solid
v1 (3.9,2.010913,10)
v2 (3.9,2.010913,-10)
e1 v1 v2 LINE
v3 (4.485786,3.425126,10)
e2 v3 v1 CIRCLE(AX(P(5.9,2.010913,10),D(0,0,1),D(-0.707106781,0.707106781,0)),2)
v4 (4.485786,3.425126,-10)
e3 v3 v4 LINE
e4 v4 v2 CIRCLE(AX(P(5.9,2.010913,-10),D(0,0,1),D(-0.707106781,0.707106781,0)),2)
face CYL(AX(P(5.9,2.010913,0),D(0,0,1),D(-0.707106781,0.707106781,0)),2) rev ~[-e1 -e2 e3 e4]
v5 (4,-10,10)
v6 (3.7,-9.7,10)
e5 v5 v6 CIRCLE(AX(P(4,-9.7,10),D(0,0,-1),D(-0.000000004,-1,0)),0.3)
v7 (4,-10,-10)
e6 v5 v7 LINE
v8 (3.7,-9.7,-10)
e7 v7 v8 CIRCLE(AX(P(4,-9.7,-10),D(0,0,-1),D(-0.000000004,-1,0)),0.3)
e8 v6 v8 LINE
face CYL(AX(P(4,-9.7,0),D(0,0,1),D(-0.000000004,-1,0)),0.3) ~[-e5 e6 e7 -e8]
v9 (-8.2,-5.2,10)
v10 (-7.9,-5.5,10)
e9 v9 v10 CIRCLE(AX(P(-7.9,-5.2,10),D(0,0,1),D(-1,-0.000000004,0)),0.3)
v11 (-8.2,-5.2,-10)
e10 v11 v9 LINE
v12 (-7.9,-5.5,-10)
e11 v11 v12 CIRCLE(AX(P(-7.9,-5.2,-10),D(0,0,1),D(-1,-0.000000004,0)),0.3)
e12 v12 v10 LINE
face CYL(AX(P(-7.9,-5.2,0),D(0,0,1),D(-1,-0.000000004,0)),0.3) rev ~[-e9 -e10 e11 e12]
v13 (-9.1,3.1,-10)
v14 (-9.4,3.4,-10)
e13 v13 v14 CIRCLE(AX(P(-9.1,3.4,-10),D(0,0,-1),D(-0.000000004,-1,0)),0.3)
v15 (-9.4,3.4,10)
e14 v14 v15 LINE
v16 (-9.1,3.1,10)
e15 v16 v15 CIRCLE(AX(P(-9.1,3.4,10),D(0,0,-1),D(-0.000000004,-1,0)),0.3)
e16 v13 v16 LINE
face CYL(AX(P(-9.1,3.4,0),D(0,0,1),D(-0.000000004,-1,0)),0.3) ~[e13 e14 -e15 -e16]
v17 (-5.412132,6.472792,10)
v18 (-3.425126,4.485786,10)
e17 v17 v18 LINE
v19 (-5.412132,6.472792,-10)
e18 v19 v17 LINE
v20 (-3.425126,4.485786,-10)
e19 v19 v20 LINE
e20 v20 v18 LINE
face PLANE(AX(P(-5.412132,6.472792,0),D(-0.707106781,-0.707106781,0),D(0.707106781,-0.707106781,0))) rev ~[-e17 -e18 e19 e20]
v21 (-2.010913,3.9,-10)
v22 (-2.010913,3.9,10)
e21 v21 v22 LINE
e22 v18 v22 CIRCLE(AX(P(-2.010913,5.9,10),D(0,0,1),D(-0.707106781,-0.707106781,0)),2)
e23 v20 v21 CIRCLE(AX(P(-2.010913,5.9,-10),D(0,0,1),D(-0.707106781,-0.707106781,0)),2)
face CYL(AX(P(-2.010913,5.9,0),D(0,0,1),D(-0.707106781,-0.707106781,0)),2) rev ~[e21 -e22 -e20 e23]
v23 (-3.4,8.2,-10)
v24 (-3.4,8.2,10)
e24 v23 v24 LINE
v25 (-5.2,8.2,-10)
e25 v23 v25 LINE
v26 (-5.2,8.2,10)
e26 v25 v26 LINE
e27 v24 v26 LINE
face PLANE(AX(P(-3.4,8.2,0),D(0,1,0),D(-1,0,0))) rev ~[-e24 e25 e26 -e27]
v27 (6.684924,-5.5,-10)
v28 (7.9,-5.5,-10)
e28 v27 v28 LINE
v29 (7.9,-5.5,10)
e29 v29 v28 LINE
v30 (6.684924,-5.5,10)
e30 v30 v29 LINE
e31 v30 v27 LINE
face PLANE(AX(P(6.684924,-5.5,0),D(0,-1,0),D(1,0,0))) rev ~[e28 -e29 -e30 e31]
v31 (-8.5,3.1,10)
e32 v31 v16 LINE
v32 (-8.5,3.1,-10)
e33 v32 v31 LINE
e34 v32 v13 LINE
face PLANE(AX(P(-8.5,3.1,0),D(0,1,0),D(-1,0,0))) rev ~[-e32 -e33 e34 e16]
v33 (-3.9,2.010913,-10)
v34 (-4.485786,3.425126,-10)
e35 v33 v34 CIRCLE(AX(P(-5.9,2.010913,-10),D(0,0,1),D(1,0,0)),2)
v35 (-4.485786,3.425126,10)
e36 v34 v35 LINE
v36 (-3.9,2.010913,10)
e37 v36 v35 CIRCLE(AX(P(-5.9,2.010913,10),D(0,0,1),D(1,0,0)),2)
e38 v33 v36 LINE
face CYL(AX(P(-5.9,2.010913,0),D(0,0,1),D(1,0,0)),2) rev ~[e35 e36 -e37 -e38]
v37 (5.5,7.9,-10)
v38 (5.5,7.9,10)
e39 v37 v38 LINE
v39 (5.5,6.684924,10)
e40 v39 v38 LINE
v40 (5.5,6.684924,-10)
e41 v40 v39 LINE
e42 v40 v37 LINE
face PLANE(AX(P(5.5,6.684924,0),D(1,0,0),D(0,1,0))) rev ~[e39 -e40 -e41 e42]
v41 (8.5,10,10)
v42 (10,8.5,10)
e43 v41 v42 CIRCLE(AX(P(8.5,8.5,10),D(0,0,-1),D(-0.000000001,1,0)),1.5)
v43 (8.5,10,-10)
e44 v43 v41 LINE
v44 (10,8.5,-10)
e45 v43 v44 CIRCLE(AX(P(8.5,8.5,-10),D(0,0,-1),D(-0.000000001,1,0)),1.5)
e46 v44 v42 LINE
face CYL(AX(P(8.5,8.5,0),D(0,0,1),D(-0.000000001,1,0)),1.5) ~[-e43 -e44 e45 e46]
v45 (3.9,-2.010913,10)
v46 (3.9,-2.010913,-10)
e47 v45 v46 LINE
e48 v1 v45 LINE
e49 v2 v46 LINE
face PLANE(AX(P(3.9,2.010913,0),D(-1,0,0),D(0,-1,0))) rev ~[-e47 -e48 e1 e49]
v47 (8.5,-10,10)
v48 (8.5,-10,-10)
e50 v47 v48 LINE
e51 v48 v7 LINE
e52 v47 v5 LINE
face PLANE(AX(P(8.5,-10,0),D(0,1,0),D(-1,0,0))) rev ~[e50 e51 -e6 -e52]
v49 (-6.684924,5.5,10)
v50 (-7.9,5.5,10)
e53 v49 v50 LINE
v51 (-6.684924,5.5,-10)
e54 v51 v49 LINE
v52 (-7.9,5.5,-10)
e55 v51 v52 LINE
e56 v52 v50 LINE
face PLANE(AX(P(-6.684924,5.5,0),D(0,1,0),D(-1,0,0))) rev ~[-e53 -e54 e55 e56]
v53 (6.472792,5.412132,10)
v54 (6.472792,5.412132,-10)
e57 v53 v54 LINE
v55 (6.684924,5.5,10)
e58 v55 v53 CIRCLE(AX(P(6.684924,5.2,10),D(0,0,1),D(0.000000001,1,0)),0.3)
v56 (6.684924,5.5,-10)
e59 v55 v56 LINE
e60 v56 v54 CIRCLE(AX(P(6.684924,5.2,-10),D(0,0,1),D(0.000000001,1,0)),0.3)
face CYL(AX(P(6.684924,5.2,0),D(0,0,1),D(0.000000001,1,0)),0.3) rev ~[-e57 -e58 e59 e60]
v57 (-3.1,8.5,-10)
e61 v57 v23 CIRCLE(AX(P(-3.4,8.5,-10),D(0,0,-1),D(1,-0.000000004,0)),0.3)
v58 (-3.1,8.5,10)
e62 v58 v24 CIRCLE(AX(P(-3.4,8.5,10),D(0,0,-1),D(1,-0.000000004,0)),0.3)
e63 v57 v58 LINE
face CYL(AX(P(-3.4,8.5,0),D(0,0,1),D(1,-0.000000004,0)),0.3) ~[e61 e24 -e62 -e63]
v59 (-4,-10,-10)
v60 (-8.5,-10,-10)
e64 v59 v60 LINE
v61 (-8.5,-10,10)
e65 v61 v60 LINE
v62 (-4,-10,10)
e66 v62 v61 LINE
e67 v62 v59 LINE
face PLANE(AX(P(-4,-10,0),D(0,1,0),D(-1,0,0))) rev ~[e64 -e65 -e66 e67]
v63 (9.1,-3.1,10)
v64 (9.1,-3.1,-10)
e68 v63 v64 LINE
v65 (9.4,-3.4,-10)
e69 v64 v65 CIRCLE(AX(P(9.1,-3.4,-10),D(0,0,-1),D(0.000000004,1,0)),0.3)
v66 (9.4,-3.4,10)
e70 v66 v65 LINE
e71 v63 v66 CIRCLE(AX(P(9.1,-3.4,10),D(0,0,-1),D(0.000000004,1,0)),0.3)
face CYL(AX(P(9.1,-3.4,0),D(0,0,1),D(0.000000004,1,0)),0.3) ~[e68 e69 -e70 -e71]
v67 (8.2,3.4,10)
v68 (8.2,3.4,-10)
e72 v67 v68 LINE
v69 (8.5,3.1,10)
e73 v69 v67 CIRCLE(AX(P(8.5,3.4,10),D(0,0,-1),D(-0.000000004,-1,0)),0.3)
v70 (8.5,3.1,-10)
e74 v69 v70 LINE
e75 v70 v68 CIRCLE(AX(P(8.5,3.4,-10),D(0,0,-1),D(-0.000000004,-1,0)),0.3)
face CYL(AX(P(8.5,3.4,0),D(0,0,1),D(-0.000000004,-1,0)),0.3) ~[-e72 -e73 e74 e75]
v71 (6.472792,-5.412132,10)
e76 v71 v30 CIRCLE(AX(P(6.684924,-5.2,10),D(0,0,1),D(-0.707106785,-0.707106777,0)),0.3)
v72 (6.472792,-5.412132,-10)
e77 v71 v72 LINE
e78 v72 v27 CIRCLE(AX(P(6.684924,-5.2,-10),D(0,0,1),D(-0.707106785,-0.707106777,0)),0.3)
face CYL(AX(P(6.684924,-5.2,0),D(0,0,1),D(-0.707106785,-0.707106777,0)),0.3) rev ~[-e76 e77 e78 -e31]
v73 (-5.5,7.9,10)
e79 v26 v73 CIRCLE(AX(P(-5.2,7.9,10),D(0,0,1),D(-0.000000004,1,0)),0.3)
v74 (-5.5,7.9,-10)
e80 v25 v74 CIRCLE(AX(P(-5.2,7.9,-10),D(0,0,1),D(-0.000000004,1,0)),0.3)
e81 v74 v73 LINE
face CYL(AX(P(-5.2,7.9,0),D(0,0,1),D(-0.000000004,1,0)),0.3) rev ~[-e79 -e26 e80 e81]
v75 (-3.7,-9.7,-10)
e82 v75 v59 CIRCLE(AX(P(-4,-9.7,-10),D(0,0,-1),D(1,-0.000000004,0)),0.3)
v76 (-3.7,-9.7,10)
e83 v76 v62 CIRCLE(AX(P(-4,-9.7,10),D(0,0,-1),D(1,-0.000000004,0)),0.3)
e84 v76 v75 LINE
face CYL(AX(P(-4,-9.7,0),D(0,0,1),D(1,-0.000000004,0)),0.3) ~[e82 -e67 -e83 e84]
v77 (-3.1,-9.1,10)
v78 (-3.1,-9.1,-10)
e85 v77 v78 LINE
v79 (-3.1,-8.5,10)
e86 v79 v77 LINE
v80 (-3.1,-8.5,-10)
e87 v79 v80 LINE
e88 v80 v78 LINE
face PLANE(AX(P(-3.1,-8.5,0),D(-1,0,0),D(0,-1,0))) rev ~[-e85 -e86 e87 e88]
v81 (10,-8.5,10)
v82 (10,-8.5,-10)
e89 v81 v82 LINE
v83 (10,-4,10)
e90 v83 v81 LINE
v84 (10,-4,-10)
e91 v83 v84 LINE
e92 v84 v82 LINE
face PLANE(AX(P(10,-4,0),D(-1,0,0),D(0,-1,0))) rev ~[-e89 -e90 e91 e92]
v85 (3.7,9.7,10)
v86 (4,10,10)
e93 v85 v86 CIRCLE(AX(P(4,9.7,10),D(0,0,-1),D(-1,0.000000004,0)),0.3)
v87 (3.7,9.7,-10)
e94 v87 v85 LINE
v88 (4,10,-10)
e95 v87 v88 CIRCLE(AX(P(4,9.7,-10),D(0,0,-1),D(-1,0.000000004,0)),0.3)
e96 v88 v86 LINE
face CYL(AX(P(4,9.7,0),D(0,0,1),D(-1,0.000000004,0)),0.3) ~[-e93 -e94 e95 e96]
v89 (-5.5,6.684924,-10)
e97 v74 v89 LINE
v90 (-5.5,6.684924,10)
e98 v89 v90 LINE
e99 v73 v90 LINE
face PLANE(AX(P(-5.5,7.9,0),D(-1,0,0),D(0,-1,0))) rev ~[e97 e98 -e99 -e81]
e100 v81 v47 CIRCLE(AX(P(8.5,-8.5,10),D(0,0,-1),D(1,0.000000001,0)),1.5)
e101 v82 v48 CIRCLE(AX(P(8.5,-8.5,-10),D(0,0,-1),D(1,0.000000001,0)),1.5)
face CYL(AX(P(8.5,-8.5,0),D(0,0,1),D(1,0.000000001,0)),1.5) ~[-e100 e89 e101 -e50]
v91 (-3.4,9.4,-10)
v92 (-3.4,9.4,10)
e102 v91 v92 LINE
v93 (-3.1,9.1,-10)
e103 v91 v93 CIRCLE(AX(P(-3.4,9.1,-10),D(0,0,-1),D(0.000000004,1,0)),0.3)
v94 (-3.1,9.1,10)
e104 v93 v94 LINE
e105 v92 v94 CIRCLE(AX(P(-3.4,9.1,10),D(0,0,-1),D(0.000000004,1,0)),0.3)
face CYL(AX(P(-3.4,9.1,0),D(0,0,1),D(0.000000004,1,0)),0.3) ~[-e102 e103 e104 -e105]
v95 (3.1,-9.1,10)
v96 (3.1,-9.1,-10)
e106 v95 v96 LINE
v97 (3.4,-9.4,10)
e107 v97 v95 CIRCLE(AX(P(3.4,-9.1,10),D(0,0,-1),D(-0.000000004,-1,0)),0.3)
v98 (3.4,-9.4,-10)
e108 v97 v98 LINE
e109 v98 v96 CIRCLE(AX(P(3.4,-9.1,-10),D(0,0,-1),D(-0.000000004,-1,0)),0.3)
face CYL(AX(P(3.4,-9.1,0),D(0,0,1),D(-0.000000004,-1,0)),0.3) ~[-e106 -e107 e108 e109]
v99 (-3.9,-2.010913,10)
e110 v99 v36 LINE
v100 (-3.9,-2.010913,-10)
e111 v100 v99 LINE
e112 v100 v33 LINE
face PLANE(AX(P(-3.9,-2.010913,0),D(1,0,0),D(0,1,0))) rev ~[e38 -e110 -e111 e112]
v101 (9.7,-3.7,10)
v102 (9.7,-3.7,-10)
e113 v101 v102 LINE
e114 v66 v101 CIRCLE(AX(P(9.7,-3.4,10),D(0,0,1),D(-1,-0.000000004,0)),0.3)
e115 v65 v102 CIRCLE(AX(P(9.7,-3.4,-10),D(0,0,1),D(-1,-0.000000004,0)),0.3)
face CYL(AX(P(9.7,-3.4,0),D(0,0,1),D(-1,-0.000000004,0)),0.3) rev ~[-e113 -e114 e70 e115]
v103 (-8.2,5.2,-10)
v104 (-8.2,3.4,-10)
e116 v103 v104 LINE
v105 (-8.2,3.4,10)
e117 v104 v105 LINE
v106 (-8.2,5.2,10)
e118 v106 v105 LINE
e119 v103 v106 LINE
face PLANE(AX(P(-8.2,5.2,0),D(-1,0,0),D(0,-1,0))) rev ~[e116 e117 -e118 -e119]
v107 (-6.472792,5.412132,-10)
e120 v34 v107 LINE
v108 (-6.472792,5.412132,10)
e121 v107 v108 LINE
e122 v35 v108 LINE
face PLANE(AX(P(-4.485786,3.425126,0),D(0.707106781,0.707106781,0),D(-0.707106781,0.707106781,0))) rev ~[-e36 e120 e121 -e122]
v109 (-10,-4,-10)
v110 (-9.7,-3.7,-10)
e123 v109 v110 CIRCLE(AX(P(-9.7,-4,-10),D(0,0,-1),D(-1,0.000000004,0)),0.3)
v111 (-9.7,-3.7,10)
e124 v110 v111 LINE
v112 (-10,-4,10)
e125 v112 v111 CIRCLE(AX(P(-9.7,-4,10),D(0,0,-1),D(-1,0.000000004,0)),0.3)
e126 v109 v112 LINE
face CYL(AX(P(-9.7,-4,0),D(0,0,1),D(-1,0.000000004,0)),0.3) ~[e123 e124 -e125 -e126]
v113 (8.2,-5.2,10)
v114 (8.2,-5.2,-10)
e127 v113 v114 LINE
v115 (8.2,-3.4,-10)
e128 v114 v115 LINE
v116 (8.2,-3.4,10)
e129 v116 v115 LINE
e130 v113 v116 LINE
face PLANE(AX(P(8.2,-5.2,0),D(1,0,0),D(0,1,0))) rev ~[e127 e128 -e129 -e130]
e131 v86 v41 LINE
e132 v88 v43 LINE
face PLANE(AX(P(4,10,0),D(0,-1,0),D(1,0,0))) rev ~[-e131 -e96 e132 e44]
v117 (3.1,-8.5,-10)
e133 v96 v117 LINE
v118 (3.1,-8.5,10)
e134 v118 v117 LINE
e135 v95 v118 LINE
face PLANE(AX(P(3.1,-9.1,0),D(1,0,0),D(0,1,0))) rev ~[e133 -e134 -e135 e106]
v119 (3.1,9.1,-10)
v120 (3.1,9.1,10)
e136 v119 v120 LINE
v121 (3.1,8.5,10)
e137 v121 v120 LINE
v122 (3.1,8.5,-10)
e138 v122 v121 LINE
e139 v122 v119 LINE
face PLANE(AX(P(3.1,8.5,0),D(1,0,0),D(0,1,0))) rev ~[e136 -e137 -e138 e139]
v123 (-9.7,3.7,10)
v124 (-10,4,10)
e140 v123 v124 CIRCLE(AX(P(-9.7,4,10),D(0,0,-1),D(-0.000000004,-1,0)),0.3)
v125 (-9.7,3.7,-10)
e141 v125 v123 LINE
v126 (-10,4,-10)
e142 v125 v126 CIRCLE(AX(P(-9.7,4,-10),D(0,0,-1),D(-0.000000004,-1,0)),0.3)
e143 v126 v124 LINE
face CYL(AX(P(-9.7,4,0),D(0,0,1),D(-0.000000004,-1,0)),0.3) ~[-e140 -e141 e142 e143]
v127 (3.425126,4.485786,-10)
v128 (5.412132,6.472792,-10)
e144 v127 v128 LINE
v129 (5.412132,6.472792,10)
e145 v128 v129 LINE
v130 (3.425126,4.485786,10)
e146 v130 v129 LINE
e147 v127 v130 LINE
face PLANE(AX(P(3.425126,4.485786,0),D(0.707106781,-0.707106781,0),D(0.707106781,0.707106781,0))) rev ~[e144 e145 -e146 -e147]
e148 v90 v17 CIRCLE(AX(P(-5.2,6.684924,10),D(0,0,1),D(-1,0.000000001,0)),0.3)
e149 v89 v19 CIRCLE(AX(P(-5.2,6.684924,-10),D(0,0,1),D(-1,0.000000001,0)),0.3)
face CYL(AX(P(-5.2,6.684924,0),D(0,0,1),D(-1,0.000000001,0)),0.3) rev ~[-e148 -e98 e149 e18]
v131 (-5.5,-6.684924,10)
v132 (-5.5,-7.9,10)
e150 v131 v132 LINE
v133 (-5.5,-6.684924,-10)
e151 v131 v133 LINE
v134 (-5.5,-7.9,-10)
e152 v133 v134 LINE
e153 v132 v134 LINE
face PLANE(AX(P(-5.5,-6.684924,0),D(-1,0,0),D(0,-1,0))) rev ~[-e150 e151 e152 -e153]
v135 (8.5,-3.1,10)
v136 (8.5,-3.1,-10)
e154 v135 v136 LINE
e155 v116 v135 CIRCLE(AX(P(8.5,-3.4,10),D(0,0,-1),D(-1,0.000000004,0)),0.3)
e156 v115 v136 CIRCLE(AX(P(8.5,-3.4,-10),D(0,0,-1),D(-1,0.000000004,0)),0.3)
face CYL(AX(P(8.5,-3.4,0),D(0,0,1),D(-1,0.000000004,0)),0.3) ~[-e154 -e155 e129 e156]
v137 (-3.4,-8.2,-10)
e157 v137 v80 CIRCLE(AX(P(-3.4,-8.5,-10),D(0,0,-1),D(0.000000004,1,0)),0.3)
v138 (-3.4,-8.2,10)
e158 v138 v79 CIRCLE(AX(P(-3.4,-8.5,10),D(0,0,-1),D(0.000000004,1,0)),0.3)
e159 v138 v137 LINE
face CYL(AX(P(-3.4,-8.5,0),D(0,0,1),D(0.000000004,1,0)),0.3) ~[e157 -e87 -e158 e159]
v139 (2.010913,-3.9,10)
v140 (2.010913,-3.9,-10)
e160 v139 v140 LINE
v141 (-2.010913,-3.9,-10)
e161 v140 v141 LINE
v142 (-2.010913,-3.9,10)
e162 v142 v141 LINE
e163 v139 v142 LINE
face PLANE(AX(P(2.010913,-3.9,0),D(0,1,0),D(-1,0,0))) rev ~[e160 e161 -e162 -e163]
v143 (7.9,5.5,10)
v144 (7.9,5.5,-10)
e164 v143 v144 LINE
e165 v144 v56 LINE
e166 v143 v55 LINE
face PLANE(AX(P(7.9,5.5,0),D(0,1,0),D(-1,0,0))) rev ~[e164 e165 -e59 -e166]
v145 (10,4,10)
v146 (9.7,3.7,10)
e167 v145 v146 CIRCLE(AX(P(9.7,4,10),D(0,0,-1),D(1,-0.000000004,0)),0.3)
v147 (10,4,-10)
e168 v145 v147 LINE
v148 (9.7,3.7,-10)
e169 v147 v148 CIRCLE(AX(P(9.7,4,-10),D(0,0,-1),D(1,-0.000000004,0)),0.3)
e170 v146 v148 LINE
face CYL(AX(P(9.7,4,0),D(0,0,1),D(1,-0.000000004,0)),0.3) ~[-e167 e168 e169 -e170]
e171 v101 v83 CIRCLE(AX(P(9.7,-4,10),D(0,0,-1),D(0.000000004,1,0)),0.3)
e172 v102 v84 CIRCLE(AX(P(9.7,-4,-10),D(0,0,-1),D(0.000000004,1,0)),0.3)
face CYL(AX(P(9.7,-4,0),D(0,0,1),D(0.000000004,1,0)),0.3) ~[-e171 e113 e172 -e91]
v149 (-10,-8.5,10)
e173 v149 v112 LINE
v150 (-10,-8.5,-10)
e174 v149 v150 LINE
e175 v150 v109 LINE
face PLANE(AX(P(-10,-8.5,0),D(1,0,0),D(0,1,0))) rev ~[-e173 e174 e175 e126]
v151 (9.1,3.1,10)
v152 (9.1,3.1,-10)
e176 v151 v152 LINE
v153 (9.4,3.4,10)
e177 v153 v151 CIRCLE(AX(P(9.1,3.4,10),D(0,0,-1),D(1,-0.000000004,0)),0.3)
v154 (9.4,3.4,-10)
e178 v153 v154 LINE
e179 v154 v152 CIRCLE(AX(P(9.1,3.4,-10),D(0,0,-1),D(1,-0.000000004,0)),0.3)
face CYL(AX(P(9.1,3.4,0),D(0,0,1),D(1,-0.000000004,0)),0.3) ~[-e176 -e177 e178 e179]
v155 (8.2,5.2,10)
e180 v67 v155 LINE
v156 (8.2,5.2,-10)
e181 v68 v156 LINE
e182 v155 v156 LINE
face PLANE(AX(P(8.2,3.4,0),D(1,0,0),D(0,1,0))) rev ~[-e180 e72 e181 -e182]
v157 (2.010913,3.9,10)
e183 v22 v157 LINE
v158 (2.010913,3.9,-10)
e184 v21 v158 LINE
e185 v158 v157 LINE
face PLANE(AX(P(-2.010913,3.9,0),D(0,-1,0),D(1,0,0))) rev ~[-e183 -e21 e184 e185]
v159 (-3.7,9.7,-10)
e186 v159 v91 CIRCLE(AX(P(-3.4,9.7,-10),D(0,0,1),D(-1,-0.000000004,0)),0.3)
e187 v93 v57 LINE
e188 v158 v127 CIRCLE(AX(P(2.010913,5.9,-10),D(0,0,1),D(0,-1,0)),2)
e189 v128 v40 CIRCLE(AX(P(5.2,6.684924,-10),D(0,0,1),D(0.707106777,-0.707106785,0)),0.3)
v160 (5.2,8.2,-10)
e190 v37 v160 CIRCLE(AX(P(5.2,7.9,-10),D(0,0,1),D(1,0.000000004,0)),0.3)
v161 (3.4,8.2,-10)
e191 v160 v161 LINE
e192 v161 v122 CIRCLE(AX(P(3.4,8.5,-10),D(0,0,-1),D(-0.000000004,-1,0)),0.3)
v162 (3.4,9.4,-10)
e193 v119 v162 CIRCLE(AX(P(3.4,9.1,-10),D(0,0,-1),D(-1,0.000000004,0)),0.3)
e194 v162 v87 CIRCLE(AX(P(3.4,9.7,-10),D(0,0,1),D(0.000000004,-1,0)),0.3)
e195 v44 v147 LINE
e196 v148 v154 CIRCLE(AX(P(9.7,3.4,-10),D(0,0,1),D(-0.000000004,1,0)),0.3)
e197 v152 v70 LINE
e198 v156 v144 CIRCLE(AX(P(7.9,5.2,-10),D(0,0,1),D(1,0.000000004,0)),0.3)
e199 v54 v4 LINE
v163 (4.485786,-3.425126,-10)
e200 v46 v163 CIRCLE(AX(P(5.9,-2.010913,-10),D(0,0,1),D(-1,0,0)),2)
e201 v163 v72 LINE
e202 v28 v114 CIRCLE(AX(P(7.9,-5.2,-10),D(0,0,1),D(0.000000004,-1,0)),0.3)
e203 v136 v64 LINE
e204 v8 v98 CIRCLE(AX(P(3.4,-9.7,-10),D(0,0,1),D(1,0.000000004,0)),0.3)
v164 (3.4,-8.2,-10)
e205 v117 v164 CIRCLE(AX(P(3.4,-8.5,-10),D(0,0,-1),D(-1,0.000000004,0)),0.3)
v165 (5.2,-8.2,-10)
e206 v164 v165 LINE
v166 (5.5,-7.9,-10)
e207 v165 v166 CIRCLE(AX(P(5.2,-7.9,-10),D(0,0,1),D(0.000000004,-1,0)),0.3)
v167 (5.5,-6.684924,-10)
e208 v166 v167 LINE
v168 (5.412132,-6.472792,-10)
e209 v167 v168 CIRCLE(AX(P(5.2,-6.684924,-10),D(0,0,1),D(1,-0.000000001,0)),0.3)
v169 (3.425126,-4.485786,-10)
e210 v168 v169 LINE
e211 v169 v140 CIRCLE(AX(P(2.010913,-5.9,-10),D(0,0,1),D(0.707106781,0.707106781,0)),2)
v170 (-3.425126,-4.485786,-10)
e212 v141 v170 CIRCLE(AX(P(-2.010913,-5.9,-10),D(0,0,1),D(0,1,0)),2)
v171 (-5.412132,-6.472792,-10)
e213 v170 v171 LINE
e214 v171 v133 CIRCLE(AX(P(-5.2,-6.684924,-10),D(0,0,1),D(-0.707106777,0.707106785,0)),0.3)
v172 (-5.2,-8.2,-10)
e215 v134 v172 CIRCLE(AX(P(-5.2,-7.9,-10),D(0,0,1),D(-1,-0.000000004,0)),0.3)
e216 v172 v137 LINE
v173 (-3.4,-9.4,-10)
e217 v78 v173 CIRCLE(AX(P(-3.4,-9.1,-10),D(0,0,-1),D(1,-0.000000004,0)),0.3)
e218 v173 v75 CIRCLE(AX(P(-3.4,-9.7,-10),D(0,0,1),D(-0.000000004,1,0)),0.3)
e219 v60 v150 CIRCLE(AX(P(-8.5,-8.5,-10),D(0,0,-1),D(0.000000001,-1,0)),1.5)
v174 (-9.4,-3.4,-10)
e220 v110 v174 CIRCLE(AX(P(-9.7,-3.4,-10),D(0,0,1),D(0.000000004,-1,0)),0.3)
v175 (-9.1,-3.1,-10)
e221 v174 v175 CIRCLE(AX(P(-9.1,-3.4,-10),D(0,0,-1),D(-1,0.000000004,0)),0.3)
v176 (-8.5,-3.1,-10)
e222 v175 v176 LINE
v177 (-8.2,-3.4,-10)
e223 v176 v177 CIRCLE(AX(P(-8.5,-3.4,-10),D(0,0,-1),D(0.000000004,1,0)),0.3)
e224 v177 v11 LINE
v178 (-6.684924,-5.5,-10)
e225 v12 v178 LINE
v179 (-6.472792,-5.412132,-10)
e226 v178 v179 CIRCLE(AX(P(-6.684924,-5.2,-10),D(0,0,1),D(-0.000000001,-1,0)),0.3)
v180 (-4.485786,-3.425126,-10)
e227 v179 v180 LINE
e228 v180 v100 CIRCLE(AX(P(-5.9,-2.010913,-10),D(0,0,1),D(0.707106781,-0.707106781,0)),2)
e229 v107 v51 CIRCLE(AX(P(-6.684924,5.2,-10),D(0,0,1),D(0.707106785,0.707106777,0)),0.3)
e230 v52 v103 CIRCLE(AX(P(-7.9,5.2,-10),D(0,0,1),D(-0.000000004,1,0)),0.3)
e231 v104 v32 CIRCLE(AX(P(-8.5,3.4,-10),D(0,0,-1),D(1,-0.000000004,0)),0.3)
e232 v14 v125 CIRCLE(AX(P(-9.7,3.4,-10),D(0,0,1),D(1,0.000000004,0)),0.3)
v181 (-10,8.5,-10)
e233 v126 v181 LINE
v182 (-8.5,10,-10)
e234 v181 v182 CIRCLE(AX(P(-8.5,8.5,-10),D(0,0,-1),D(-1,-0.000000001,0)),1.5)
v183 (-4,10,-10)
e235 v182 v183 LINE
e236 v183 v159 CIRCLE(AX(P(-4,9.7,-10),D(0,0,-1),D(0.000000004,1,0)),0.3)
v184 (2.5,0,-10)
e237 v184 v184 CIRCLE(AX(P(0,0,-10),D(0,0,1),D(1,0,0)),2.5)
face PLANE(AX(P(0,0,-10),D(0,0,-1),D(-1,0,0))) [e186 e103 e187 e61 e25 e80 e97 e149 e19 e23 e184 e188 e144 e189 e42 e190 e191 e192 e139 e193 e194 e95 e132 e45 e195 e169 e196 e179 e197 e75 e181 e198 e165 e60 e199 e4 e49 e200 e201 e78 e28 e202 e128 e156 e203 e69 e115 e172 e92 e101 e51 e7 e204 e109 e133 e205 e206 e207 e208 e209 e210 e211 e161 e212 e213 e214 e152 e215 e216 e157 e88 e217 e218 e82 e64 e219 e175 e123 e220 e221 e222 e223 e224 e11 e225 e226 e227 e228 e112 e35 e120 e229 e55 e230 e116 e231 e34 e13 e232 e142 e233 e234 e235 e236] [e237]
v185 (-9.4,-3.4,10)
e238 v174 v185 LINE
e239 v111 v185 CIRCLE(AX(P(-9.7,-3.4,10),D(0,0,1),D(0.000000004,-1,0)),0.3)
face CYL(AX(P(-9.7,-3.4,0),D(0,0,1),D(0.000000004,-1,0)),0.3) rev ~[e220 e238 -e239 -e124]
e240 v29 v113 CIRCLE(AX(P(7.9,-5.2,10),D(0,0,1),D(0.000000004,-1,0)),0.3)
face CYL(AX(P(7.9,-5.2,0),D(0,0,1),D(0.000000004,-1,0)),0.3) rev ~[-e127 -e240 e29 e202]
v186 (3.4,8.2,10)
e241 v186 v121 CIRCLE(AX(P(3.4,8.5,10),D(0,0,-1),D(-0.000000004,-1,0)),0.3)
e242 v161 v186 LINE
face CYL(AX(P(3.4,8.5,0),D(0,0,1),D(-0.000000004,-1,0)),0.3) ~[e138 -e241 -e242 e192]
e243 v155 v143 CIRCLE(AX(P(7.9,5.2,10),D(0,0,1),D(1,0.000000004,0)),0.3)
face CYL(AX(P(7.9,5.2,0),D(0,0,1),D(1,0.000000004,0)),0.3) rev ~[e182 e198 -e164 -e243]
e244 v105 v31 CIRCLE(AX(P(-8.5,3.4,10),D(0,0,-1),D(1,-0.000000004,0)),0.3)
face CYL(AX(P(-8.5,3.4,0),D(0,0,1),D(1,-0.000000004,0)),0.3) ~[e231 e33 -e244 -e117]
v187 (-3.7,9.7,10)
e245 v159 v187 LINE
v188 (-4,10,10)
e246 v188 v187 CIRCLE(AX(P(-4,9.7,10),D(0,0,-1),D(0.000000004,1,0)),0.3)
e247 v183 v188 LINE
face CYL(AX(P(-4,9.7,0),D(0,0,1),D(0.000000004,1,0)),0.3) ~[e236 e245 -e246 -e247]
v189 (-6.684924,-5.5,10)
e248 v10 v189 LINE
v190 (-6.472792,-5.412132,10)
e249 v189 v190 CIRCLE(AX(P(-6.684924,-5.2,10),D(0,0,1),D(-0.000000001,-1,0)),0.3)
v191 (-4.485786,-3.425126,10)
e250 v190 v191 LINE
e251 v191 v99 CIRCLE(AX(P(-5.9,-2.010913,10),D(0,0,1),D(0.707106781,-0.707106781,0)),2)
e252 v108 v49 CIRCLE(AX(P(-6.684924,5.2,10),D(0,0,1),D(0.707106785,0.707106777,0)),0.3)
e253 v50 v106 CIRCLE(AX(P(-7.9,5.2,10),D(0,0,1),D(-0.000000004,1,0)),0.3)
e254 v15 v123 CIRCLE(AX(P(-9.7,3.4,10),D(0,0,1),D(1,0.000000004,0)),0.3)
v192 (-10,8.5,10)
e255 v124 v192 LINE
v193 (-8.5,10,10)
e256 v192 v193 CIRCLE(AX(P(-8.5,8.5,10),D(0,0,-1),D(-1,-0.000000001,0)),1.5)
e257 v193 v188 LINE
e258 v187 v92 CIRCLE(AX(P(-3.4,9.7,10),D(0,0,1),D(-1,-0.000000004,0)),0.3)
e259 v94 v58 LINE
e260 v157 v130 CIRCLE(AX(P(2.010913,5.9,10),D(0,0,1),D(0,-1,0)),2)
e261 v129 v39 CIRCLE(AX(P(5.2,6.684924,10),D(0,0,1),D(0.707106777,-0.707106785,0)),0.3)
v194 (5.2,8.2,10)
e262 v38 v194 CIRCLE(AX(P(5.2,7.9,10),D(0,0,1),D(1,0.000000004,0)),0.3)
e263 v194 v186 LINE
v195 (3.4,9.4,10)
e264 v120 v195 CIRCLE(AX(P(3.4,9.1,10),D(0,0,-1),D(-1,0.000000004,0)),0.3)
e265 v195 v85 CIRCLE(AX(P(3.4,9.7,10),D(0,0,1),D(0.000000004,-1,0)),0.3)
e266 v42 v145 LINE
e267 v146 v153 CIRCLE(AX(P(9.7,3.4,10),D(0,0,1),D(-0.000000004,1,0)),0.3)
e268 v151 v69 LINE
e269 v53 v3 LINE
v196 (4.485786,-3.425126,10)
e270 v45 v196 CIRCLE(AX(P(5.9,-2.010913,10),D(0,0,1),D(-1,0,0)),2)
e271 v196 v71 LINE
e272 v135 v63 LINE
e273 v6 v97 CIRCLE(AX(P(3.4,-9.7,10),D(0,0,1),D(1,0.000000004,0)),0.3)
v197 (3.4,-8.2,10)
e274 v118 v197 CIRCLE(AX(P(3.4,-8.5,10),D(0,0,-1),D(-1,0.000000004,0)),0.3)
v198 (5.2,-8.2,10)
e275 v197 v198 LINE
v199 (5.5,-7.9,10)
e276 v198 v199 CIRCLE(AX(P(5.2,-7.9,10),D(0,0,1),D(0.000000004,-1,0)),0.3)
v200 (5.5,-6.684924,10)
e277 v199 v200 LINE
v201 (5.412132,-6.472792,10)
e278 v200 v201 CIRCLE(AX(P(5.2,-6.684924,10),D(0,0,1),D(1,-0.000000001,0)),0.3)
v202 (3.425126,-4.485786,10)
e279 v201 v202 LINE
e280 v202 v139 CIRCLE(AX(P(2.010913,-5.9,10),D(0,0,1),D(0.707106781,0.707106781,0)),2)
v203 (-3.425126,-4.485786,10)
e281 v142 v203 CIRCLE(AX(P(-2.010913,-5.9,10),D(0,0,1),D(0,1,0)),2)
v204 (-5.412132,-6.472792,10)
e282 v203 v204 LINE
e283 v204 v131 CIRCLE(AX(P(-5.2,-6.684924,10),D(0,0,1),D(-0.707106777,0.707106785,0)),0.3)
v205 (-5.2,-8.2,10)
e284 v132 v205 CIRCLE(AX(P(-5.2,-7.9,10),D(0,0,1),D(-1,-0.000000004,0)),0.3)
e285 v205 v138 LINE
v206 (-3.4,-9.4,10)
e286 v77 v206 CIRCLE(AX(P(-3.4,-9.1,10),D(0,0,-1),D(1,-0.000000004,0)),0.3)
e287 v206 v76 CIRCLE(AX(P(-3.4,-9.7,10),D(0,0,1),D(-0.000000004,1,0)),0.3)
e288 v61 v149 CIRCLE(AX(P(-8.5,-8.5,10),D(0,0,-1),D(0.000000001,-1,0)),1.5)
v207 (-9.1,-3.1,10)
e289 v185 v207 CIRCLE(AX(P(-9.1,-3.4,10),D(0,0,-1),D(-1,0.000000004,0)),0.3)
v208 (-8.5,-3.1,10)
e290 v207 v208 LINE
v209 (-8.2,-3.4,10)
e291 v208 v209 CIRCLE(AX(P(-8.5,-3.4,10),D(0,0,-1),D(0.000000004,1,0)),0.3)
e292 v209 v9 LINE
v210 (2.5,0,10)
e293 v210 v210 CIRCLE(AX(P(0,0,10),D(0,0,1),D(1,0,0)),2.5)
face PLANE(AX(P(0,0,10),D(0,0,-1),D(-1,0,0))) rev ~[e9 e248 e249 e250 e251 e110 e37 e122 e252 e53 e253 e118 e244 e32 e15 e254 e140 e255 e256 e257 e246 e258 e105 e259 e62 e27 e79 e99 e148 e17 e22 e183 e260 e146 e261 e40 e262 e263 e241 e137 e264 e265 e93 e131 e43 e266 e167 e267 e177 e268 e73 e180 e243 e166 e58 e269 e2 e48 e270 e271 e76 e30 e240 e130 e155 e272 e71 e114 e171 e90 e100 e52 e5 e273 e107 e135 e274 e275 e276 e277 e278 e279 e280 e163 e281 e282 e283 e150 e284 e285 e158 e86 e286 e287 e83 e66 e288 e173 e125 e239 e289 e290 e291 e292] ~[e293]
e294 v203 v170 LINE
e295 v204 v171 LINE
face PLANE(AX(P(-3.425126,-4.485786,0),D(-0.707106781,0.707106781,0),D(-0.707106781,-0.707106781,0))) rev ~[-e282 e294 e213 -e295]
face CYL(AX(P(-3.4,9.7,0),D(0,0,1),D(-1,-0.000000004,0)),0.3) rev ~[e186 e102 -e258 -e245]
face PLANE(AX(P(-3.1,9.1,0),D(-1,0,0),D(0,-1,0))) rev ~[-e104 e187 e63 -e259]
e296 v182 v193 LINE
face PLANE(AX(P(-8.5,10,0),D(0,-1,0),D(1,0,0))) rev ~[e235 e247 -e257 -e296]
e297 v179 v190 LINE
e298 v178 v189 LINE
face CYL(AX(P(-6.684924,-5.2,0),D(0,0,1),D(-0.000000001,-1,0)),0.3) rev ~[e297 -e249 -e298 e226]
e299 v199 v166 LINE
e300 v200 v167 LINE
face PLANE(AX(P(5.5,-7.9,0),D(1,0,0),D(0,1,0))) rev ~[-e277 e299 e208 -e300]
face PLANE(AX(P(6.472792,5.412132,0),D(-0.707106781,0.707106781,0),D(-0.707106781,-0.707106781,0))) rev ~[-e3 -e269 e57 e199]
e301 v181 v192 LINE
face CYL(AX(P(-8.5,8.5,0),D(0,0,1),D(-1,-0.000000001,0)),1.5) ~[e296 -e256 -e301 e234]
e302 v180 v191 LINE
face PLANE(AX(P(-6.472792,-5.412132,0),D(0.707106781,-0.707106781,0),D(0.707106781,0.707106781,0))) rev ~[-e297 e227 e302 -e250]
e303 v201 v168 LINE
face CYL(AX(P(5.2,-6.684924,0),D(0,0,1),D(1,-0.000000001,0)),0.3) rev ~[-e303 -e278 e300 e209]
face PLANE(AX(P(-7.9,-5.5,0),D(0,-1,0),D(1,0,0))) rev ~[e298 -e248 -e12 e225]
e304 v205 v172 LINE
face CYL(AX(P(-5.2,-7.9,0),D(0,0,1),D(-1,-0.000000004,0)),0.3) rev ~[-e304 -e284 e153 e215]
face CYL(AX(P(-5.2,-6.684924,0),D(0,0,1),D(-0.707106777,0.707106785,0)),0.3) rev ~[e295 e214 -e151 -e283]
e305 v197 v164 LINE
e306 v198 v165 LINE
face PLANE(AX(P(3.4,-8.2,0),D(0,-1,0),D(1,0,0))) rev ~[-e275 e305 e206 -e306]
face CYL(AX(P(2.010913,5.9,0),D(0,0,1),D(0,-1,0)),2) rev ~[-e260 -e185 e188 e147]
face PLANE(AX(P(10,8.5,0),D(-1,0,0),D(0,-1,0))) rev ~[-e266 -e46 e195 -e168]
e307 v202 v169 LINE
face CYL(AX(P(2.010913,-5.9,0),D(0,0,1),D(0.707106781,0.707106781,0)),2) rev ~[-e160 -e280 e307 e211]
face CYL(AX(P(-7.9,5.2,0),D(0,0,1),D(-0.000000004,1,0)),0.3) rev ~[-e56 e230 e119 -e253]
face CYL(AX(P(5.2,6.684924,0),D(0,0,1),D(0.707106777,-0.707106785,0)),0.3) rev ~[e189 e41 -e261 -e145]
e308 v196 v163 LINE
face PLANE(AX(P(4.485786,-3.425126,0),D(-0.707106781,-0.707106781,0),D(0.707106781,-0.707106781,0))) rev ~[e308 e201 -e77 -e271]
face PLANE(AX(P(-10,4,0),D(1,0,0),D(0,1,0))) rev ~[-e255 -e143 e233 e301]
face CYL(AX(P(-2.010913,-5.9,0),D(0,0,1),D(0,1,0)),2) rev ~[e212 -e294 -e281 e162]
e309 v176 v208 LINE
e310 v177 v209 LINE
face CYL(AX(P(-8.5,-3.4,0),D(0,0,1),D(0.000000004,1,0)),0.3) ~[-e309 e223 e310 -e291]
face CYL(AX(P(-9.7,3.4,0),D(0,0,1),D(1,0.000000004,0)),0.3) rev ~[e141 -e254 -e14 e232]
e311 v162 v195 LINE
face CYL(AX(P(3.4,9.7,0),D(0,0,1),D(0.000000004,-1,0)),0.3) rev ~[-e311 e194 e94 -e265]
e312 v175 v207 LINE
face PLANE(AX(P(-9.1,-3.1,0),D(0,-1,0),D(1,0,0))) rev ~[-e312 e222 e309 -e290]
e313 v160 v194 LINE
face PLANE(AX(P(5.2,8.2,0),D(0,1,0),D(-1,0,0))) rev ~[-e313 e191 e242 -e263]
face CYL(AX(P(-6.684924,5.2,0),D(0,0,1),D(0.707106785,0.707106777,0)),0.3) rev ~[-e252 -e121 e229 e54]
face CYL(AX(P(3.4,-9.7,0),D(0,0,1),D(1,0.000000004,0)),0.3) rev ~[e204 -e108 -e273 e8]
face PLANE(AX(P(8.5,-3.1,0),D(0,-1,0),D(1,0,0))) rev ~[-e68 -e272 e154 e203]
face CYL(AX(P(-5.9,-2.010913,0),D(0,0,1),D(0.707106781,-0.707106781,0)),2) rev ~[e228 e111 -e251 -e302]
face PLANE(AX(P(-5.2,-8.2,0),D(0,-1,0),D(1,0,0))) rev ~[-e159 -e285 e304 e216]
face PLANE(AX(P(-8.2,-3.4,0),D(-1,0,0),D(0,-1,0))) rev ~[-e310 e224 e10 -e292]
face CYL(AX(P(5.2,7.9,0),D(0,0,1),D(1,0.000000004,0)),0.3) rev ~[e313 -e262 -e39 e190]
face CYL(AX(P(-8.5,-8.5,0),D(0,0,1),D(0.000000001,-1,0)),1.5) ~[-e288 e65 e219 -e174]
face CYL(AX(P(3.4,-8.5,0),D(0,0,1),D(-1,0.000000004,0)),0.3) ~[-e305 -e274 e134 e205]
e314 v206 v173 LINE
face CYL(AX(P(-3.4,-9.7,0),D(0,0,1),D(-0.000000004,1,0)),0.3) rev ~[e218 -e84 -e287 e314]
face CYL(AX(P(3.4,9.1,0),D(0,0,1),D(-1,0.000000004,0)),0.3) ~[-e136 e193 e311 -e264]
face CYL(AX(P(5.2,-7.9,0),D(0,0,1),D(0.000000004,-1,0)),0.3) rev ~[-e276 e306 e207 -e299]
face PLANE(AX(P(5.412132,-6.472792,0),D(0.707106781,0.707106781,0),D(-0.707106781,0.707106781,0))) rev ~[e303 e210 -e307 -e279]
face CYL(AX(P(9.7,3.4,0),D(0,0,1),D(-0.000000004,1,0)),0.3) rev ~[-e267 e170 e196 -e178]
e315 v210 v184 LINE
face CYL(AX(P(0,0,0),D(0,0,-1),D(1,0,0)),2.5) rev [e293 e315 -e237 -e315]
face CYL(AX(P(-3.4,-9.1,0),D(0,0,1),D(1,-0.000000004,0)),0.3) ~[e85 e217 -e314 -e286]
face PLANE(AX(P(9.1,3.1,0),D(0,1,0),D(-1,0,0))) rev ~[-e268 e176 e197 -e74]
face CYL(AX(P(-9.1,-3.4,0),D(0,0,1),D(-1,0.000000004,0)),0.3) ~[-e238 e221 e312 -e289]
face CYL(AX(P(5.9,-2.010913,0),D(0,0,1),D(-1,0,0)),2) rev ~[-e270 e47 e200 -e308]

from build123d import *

# Parameters (mm, degrees)
SKETCH_1_R      = 2.5
EXTRUDE_1_DEPTH = 10


with BuildPart() as part:
    # 草图1 → 凸台-拉伸1 (new, symmetric)
    with BuildSketch(Plane.XY):
        with BuildLine():
            Line((10, 8.5), (10, 4))
            ThreePointArc((10, 4), (9.912132034, 3.787867966), (9.7, 3.7))
            ThreePointArc((9.7, 3.7), (9.487867966, 3.612132034), (9.4, 3.4))
            ThreePointArc((9.4, 3.4), (9.312132034, 3.187867966), (9.1, 3.1))
            Line((9.1, 3.1), (8.5, 3.1))
            ThreePointArc((8.5, 3.1), (8.287867966, 3.187867966), (8.2, 3.4))
            Line((8.2, 3.4), (8.2, 5.2))
            ThreePointArc((8.2, 5.2), (8.112132034, 5.412132034), (7.9, 5.5))
            Line((7.9, 5.5), (6.68492424, 5.5))
            ThreePointArc((6.68492424, 5.5), (6.570119211, 5.47716386), (6.472792206, 5.412132034))
            Line((6.472792206, 5.412132034), (4.485786438, 3.425126266))
            ThreePointArc((4.485786438, 3.425126266), (4.052240935, 2.776279568), (3.9, 2.010912703))
            Line((3.9, 2.010912703), (3.9, -2.010912703))
            ThreePointArc((3.9, -2.010912703), (4.052240935, -2.776279568), (4.485786438, -3.425126266))
            Line((4.485786438, -3.425126266), (6.472792206, -5.412132034))
            ThreePointArc((6.472792206, -5.412132034), (6.570119211, -5.47716386), (6.68492424, -5.5))
            Line((6.68492424, -5.5), (7.9, -5.5))
            ThreePointArc((7.9, -5.5), (8.112132034, -5.412132034), (8.2, -5.2))
            Line((8.2, -5.2), (8.2, -3.4))
            ThreePointArc((8.2, -3.4), (8.287867966, -3.187867966), (8.5, -3.1))
            Line((8.5, -3.1), (9.1, -3.1))
            ThreePointArc((9.1, -3.1), (9.312132034, -3.187867966), (9.4, -3.4))
            ThreePointArc((9.4, -3.4), (9.487867966, -3.612132034), (9.7, -3.7))
            ThreePointArc((9.7, -3.7), (9.912132034, -3.787867966), (10, -4))
            Line((10, -4), (10, -8.5))
            ThreePointArc((10, -8.5), (9.560660172, -9.560660172), (8.5, -10))
            Line((8.5, -10), (4, -10))
            ThreePointArc((4, -10), (3.787867966, -9.912132034), (3.7, -9.7))
            ThreePointArc((3.7, -9.7), (3.612132034, -9.487867966), (3.4, -9.4))
            ThreePointArc((3.4, -9.4), (3.187867966, -9.312132034), (3.1, -9.1))
            Line((3.1, -9.1), (3.1, -8.5))
            ThreePointArc((3.1, -8.5), (3.187867966, -8.287867966), (3.4, -8.2))
            Line((3.4, -8.2), (5.2, -8.2))
            ThreePointArc((5.2, -8.2), (5.412132034, -8.112132034), (5.5, -7.9))
            Line((5.5, -7.9), (5.5, -6.68492424))
            ThreePointArc((5.5, -6.68492424), (5.47716386, -6.570119211), (5.412132034, -6.472792206))
            Line((5.412132034, -6.472792206), (3.425126266, -4.485786438))
            ThreePointArc((3.425126266, -4.485786438), (2.776279568, -4.052240935), (2.010912703, -3.9))
            Line((2.010912703, -3.9), (-2.010912703, -3.9))
            ThreePointArc((-2.010912703, -3.9), (-2.776279568, -4.052240935), (-3.425126266, -4.485786438))
            Line((-3.425126266, -4.485786438), (-5.412132034, -6.472792206))
            ThreePointArc((-5.412132034, -6.472792206), (-5.47716386, -6.570119211), (-5.5, -6.68492424))
            Line((-5.5, -6.68492424), (-5.5, -7.9))
            ThreePointArc((-5.5, -7.9), (-5.412132034, -8.112132034), (-5.2, -8.2))
            Line((-5.2, -8.2), (-3.4, -8.2))
            ThreePointArc((-3.4, -8.2), (-3.187867966, -8.287867966), (-3.1, -8.5))
            Line((-3.1, -8.5), (-3.1, -9.1))
            ThreePointArc((-3.1, -9.1), (-3.187867966, -9.312132034), (-3.4, -9.4))
            ThreePointArc((-3.4, -9.4), (-3.612132034, -9.487867966), (-3.7, -9.7))
            ThreePointArc((-3.7, -9.7), (-3.787867966, -9.912132034), (-4, -10))
            Line((-4, -10), (-8.5, -10))
            ThreePointArc((-8.5, -10), (-9.560660172, -9.560660172), (-10, -8.5))
            Line((-10, -8.5), (-10, -4))
            ThreePointArc((-10, -4), (-9.912132034, -3.787867966), (-9.7, -3.7))
            ThreePointArc((-9.7, -3.7), (-9.487867966, -3.612132034), (-9.4, -3.4))
            ThreePointArc((-9.4, -3.4), (-9.312132034, -3.187867966), (-9.1, -3.1))
            Line((-9.1, -3.1), (-8.5, -3.1))
            ThreePointArc((-8.5, -3.1), (-8.287867966, -3.187867966), (-8.2, -3.4))
            Line((-8.2, -3.4), (-8.2, -5.2))
            ThreePointArc((-8.2, -5.2), (-8.112132034, -5.412132034), (-7.9, -5.5))
            Line((-7.9, -5.5), (-6.68492424, -5.5))
            ThreePointArc((-6.68492424, -5.5), (-6.570119211, -5.47716386), (-6.472792206, -5.412132034))
            Line((-6.472792206, -5.412132034), (-4.485786438, -3.425126266))
            ThreePointArc((-4.485786438, -3.425126266), (-4.052240935, -2.776279568), (-3.9, -2.010912703))
            Line((-3.9, -2.010912703), (-3.9, 2.010912703))
            ThreePointArc((-3.9, 2.010912703), (-4.052240935, 2.776279568), (-4.485786438, 3.425126266))
            Line((-4.485786438, 3.425126266), (-6.472792206, 5.412132034))
            ThreePointArc((-6.472792206, 5.412132034), (-6.570119211, 5.47716386), (-6.68492424, 5.5))
            Line((-6.68492424, 5.5), (-7.9, 5.5))
            ThreePointArc((-7.9, 5.5), (-8.112132034, 5.412132034), (-8.2, 5.2))
            Line((-8.2, 5.2), (-8.2, 3.4))
            ThreePointArc((-8.2, 3.4), (-8.287867966, 3.187867966), (-8.5, 3.1))
            Line((-8.5, 3.1), (-9.1, 3.1))
            ThreePointArc((-9.1, 3.1), (-9.312132034, 3.187867966), (-9.4, 3.4))
            ThreePointArc((-9.4, 3.4), (-9.487867966, 3.612132034), (-9.7, 3.7))
            ThreePointArc((-9.7, 3.7), (-9.912132034, 3.787867966), (-10, 4))
            Line((-10, 4), (-10, 8.5))
            ThreePointArc((-10, 8.5), (-9.560660172, 9.560660172), (-8.5, 10))
            Line((-8.5, 10), (-4, 10))
            ThreePointArc((-4, 10), (-3.787867966, 9.912132034), (-3.7, 9.7))
            ThreePointArc((-3.7, 9.7), (-3.612132034, 9.487867966), (-3.4, 9.4))
            ThreePointArc((-3.4, 9.4), (-3.187867966, 9.312132034), (-3.1, 9.1))
            Line((-3.1, 9.1), (-3.1, 8.5))
            ThreePointArc((-3.1, 8.5), (-3.187867966, 8.287867966), (-3.4, 8.2))
            Line((-3.4, 8.2), (-5.2, 8.2))
            ThreePointArc((-5.2, 8.2), (-5.412132034, 8.112132034), (-5.5, 7.9))
            Line((-5.5, 7.9), (-5.5, 6.68492424))
            ThreePointArc((-5.5, 6.68492424), (-5.47716386, 6.570119211), (-5.412132034, 6.472792206))
            Line((-5.412132034, 6.472792206), (-3.425126266, 4.485786438))
            ThreePointArc((-3.425126266, 4.485786438), (-2.776279568, 4.052240935), (-2.010912703, 3.9))
            Line((-2.010912703, 3.9), (2.010912703, 3.9))
            ThreePointArc((2.010912703, 3.9), (2.776279568, 4.052240935), (3.425126266, 4.485786438))
            Line((3.425126266, 4.485786438), (5.412132034, 6.472792206))
            ThreePointArc((5.412132034, 6.472792206), (5.47716386, 6.570119211), (5.5, 6.68492424))
            Line((5.5, 6.68492424), (5.5, 7.9))
            ThreePointArc((5.5, 7.9), (5.412132034, 8.112132034), (5.2, 8.2))
            Line((5.2, 8.2), (3.4, 8.2))
            ThreePointArc((3.4, 8.2), (3.187867966, 8.287867966), (3.1, 8.5))
            Line((3.1, 8.5), (3.1, 9.1))
            ThreePointArc((3.1, 9.1), (3.187867966, 9.312132034), (3.4, 9.4))
            ThreePointArc((3.4, 9.4), (3.612132034, 9.487867966), (3.7, 9.7))
            ThreePointArc((3.7, 9.7), (3.787867966, 9.912132034), (4, 10))
            Line((4, 10), (8.5, 10))
            ThreePointArc((8.5, 10), (9.560660172, 9.560660172), (10, 8.5))
        make_face()
        Circle(SKETCH_1_R, mode=Mode.SUBTRACT)
    extrude(amount=EXTRUDE_1_DEPTH, both=True)


solid = part.part
